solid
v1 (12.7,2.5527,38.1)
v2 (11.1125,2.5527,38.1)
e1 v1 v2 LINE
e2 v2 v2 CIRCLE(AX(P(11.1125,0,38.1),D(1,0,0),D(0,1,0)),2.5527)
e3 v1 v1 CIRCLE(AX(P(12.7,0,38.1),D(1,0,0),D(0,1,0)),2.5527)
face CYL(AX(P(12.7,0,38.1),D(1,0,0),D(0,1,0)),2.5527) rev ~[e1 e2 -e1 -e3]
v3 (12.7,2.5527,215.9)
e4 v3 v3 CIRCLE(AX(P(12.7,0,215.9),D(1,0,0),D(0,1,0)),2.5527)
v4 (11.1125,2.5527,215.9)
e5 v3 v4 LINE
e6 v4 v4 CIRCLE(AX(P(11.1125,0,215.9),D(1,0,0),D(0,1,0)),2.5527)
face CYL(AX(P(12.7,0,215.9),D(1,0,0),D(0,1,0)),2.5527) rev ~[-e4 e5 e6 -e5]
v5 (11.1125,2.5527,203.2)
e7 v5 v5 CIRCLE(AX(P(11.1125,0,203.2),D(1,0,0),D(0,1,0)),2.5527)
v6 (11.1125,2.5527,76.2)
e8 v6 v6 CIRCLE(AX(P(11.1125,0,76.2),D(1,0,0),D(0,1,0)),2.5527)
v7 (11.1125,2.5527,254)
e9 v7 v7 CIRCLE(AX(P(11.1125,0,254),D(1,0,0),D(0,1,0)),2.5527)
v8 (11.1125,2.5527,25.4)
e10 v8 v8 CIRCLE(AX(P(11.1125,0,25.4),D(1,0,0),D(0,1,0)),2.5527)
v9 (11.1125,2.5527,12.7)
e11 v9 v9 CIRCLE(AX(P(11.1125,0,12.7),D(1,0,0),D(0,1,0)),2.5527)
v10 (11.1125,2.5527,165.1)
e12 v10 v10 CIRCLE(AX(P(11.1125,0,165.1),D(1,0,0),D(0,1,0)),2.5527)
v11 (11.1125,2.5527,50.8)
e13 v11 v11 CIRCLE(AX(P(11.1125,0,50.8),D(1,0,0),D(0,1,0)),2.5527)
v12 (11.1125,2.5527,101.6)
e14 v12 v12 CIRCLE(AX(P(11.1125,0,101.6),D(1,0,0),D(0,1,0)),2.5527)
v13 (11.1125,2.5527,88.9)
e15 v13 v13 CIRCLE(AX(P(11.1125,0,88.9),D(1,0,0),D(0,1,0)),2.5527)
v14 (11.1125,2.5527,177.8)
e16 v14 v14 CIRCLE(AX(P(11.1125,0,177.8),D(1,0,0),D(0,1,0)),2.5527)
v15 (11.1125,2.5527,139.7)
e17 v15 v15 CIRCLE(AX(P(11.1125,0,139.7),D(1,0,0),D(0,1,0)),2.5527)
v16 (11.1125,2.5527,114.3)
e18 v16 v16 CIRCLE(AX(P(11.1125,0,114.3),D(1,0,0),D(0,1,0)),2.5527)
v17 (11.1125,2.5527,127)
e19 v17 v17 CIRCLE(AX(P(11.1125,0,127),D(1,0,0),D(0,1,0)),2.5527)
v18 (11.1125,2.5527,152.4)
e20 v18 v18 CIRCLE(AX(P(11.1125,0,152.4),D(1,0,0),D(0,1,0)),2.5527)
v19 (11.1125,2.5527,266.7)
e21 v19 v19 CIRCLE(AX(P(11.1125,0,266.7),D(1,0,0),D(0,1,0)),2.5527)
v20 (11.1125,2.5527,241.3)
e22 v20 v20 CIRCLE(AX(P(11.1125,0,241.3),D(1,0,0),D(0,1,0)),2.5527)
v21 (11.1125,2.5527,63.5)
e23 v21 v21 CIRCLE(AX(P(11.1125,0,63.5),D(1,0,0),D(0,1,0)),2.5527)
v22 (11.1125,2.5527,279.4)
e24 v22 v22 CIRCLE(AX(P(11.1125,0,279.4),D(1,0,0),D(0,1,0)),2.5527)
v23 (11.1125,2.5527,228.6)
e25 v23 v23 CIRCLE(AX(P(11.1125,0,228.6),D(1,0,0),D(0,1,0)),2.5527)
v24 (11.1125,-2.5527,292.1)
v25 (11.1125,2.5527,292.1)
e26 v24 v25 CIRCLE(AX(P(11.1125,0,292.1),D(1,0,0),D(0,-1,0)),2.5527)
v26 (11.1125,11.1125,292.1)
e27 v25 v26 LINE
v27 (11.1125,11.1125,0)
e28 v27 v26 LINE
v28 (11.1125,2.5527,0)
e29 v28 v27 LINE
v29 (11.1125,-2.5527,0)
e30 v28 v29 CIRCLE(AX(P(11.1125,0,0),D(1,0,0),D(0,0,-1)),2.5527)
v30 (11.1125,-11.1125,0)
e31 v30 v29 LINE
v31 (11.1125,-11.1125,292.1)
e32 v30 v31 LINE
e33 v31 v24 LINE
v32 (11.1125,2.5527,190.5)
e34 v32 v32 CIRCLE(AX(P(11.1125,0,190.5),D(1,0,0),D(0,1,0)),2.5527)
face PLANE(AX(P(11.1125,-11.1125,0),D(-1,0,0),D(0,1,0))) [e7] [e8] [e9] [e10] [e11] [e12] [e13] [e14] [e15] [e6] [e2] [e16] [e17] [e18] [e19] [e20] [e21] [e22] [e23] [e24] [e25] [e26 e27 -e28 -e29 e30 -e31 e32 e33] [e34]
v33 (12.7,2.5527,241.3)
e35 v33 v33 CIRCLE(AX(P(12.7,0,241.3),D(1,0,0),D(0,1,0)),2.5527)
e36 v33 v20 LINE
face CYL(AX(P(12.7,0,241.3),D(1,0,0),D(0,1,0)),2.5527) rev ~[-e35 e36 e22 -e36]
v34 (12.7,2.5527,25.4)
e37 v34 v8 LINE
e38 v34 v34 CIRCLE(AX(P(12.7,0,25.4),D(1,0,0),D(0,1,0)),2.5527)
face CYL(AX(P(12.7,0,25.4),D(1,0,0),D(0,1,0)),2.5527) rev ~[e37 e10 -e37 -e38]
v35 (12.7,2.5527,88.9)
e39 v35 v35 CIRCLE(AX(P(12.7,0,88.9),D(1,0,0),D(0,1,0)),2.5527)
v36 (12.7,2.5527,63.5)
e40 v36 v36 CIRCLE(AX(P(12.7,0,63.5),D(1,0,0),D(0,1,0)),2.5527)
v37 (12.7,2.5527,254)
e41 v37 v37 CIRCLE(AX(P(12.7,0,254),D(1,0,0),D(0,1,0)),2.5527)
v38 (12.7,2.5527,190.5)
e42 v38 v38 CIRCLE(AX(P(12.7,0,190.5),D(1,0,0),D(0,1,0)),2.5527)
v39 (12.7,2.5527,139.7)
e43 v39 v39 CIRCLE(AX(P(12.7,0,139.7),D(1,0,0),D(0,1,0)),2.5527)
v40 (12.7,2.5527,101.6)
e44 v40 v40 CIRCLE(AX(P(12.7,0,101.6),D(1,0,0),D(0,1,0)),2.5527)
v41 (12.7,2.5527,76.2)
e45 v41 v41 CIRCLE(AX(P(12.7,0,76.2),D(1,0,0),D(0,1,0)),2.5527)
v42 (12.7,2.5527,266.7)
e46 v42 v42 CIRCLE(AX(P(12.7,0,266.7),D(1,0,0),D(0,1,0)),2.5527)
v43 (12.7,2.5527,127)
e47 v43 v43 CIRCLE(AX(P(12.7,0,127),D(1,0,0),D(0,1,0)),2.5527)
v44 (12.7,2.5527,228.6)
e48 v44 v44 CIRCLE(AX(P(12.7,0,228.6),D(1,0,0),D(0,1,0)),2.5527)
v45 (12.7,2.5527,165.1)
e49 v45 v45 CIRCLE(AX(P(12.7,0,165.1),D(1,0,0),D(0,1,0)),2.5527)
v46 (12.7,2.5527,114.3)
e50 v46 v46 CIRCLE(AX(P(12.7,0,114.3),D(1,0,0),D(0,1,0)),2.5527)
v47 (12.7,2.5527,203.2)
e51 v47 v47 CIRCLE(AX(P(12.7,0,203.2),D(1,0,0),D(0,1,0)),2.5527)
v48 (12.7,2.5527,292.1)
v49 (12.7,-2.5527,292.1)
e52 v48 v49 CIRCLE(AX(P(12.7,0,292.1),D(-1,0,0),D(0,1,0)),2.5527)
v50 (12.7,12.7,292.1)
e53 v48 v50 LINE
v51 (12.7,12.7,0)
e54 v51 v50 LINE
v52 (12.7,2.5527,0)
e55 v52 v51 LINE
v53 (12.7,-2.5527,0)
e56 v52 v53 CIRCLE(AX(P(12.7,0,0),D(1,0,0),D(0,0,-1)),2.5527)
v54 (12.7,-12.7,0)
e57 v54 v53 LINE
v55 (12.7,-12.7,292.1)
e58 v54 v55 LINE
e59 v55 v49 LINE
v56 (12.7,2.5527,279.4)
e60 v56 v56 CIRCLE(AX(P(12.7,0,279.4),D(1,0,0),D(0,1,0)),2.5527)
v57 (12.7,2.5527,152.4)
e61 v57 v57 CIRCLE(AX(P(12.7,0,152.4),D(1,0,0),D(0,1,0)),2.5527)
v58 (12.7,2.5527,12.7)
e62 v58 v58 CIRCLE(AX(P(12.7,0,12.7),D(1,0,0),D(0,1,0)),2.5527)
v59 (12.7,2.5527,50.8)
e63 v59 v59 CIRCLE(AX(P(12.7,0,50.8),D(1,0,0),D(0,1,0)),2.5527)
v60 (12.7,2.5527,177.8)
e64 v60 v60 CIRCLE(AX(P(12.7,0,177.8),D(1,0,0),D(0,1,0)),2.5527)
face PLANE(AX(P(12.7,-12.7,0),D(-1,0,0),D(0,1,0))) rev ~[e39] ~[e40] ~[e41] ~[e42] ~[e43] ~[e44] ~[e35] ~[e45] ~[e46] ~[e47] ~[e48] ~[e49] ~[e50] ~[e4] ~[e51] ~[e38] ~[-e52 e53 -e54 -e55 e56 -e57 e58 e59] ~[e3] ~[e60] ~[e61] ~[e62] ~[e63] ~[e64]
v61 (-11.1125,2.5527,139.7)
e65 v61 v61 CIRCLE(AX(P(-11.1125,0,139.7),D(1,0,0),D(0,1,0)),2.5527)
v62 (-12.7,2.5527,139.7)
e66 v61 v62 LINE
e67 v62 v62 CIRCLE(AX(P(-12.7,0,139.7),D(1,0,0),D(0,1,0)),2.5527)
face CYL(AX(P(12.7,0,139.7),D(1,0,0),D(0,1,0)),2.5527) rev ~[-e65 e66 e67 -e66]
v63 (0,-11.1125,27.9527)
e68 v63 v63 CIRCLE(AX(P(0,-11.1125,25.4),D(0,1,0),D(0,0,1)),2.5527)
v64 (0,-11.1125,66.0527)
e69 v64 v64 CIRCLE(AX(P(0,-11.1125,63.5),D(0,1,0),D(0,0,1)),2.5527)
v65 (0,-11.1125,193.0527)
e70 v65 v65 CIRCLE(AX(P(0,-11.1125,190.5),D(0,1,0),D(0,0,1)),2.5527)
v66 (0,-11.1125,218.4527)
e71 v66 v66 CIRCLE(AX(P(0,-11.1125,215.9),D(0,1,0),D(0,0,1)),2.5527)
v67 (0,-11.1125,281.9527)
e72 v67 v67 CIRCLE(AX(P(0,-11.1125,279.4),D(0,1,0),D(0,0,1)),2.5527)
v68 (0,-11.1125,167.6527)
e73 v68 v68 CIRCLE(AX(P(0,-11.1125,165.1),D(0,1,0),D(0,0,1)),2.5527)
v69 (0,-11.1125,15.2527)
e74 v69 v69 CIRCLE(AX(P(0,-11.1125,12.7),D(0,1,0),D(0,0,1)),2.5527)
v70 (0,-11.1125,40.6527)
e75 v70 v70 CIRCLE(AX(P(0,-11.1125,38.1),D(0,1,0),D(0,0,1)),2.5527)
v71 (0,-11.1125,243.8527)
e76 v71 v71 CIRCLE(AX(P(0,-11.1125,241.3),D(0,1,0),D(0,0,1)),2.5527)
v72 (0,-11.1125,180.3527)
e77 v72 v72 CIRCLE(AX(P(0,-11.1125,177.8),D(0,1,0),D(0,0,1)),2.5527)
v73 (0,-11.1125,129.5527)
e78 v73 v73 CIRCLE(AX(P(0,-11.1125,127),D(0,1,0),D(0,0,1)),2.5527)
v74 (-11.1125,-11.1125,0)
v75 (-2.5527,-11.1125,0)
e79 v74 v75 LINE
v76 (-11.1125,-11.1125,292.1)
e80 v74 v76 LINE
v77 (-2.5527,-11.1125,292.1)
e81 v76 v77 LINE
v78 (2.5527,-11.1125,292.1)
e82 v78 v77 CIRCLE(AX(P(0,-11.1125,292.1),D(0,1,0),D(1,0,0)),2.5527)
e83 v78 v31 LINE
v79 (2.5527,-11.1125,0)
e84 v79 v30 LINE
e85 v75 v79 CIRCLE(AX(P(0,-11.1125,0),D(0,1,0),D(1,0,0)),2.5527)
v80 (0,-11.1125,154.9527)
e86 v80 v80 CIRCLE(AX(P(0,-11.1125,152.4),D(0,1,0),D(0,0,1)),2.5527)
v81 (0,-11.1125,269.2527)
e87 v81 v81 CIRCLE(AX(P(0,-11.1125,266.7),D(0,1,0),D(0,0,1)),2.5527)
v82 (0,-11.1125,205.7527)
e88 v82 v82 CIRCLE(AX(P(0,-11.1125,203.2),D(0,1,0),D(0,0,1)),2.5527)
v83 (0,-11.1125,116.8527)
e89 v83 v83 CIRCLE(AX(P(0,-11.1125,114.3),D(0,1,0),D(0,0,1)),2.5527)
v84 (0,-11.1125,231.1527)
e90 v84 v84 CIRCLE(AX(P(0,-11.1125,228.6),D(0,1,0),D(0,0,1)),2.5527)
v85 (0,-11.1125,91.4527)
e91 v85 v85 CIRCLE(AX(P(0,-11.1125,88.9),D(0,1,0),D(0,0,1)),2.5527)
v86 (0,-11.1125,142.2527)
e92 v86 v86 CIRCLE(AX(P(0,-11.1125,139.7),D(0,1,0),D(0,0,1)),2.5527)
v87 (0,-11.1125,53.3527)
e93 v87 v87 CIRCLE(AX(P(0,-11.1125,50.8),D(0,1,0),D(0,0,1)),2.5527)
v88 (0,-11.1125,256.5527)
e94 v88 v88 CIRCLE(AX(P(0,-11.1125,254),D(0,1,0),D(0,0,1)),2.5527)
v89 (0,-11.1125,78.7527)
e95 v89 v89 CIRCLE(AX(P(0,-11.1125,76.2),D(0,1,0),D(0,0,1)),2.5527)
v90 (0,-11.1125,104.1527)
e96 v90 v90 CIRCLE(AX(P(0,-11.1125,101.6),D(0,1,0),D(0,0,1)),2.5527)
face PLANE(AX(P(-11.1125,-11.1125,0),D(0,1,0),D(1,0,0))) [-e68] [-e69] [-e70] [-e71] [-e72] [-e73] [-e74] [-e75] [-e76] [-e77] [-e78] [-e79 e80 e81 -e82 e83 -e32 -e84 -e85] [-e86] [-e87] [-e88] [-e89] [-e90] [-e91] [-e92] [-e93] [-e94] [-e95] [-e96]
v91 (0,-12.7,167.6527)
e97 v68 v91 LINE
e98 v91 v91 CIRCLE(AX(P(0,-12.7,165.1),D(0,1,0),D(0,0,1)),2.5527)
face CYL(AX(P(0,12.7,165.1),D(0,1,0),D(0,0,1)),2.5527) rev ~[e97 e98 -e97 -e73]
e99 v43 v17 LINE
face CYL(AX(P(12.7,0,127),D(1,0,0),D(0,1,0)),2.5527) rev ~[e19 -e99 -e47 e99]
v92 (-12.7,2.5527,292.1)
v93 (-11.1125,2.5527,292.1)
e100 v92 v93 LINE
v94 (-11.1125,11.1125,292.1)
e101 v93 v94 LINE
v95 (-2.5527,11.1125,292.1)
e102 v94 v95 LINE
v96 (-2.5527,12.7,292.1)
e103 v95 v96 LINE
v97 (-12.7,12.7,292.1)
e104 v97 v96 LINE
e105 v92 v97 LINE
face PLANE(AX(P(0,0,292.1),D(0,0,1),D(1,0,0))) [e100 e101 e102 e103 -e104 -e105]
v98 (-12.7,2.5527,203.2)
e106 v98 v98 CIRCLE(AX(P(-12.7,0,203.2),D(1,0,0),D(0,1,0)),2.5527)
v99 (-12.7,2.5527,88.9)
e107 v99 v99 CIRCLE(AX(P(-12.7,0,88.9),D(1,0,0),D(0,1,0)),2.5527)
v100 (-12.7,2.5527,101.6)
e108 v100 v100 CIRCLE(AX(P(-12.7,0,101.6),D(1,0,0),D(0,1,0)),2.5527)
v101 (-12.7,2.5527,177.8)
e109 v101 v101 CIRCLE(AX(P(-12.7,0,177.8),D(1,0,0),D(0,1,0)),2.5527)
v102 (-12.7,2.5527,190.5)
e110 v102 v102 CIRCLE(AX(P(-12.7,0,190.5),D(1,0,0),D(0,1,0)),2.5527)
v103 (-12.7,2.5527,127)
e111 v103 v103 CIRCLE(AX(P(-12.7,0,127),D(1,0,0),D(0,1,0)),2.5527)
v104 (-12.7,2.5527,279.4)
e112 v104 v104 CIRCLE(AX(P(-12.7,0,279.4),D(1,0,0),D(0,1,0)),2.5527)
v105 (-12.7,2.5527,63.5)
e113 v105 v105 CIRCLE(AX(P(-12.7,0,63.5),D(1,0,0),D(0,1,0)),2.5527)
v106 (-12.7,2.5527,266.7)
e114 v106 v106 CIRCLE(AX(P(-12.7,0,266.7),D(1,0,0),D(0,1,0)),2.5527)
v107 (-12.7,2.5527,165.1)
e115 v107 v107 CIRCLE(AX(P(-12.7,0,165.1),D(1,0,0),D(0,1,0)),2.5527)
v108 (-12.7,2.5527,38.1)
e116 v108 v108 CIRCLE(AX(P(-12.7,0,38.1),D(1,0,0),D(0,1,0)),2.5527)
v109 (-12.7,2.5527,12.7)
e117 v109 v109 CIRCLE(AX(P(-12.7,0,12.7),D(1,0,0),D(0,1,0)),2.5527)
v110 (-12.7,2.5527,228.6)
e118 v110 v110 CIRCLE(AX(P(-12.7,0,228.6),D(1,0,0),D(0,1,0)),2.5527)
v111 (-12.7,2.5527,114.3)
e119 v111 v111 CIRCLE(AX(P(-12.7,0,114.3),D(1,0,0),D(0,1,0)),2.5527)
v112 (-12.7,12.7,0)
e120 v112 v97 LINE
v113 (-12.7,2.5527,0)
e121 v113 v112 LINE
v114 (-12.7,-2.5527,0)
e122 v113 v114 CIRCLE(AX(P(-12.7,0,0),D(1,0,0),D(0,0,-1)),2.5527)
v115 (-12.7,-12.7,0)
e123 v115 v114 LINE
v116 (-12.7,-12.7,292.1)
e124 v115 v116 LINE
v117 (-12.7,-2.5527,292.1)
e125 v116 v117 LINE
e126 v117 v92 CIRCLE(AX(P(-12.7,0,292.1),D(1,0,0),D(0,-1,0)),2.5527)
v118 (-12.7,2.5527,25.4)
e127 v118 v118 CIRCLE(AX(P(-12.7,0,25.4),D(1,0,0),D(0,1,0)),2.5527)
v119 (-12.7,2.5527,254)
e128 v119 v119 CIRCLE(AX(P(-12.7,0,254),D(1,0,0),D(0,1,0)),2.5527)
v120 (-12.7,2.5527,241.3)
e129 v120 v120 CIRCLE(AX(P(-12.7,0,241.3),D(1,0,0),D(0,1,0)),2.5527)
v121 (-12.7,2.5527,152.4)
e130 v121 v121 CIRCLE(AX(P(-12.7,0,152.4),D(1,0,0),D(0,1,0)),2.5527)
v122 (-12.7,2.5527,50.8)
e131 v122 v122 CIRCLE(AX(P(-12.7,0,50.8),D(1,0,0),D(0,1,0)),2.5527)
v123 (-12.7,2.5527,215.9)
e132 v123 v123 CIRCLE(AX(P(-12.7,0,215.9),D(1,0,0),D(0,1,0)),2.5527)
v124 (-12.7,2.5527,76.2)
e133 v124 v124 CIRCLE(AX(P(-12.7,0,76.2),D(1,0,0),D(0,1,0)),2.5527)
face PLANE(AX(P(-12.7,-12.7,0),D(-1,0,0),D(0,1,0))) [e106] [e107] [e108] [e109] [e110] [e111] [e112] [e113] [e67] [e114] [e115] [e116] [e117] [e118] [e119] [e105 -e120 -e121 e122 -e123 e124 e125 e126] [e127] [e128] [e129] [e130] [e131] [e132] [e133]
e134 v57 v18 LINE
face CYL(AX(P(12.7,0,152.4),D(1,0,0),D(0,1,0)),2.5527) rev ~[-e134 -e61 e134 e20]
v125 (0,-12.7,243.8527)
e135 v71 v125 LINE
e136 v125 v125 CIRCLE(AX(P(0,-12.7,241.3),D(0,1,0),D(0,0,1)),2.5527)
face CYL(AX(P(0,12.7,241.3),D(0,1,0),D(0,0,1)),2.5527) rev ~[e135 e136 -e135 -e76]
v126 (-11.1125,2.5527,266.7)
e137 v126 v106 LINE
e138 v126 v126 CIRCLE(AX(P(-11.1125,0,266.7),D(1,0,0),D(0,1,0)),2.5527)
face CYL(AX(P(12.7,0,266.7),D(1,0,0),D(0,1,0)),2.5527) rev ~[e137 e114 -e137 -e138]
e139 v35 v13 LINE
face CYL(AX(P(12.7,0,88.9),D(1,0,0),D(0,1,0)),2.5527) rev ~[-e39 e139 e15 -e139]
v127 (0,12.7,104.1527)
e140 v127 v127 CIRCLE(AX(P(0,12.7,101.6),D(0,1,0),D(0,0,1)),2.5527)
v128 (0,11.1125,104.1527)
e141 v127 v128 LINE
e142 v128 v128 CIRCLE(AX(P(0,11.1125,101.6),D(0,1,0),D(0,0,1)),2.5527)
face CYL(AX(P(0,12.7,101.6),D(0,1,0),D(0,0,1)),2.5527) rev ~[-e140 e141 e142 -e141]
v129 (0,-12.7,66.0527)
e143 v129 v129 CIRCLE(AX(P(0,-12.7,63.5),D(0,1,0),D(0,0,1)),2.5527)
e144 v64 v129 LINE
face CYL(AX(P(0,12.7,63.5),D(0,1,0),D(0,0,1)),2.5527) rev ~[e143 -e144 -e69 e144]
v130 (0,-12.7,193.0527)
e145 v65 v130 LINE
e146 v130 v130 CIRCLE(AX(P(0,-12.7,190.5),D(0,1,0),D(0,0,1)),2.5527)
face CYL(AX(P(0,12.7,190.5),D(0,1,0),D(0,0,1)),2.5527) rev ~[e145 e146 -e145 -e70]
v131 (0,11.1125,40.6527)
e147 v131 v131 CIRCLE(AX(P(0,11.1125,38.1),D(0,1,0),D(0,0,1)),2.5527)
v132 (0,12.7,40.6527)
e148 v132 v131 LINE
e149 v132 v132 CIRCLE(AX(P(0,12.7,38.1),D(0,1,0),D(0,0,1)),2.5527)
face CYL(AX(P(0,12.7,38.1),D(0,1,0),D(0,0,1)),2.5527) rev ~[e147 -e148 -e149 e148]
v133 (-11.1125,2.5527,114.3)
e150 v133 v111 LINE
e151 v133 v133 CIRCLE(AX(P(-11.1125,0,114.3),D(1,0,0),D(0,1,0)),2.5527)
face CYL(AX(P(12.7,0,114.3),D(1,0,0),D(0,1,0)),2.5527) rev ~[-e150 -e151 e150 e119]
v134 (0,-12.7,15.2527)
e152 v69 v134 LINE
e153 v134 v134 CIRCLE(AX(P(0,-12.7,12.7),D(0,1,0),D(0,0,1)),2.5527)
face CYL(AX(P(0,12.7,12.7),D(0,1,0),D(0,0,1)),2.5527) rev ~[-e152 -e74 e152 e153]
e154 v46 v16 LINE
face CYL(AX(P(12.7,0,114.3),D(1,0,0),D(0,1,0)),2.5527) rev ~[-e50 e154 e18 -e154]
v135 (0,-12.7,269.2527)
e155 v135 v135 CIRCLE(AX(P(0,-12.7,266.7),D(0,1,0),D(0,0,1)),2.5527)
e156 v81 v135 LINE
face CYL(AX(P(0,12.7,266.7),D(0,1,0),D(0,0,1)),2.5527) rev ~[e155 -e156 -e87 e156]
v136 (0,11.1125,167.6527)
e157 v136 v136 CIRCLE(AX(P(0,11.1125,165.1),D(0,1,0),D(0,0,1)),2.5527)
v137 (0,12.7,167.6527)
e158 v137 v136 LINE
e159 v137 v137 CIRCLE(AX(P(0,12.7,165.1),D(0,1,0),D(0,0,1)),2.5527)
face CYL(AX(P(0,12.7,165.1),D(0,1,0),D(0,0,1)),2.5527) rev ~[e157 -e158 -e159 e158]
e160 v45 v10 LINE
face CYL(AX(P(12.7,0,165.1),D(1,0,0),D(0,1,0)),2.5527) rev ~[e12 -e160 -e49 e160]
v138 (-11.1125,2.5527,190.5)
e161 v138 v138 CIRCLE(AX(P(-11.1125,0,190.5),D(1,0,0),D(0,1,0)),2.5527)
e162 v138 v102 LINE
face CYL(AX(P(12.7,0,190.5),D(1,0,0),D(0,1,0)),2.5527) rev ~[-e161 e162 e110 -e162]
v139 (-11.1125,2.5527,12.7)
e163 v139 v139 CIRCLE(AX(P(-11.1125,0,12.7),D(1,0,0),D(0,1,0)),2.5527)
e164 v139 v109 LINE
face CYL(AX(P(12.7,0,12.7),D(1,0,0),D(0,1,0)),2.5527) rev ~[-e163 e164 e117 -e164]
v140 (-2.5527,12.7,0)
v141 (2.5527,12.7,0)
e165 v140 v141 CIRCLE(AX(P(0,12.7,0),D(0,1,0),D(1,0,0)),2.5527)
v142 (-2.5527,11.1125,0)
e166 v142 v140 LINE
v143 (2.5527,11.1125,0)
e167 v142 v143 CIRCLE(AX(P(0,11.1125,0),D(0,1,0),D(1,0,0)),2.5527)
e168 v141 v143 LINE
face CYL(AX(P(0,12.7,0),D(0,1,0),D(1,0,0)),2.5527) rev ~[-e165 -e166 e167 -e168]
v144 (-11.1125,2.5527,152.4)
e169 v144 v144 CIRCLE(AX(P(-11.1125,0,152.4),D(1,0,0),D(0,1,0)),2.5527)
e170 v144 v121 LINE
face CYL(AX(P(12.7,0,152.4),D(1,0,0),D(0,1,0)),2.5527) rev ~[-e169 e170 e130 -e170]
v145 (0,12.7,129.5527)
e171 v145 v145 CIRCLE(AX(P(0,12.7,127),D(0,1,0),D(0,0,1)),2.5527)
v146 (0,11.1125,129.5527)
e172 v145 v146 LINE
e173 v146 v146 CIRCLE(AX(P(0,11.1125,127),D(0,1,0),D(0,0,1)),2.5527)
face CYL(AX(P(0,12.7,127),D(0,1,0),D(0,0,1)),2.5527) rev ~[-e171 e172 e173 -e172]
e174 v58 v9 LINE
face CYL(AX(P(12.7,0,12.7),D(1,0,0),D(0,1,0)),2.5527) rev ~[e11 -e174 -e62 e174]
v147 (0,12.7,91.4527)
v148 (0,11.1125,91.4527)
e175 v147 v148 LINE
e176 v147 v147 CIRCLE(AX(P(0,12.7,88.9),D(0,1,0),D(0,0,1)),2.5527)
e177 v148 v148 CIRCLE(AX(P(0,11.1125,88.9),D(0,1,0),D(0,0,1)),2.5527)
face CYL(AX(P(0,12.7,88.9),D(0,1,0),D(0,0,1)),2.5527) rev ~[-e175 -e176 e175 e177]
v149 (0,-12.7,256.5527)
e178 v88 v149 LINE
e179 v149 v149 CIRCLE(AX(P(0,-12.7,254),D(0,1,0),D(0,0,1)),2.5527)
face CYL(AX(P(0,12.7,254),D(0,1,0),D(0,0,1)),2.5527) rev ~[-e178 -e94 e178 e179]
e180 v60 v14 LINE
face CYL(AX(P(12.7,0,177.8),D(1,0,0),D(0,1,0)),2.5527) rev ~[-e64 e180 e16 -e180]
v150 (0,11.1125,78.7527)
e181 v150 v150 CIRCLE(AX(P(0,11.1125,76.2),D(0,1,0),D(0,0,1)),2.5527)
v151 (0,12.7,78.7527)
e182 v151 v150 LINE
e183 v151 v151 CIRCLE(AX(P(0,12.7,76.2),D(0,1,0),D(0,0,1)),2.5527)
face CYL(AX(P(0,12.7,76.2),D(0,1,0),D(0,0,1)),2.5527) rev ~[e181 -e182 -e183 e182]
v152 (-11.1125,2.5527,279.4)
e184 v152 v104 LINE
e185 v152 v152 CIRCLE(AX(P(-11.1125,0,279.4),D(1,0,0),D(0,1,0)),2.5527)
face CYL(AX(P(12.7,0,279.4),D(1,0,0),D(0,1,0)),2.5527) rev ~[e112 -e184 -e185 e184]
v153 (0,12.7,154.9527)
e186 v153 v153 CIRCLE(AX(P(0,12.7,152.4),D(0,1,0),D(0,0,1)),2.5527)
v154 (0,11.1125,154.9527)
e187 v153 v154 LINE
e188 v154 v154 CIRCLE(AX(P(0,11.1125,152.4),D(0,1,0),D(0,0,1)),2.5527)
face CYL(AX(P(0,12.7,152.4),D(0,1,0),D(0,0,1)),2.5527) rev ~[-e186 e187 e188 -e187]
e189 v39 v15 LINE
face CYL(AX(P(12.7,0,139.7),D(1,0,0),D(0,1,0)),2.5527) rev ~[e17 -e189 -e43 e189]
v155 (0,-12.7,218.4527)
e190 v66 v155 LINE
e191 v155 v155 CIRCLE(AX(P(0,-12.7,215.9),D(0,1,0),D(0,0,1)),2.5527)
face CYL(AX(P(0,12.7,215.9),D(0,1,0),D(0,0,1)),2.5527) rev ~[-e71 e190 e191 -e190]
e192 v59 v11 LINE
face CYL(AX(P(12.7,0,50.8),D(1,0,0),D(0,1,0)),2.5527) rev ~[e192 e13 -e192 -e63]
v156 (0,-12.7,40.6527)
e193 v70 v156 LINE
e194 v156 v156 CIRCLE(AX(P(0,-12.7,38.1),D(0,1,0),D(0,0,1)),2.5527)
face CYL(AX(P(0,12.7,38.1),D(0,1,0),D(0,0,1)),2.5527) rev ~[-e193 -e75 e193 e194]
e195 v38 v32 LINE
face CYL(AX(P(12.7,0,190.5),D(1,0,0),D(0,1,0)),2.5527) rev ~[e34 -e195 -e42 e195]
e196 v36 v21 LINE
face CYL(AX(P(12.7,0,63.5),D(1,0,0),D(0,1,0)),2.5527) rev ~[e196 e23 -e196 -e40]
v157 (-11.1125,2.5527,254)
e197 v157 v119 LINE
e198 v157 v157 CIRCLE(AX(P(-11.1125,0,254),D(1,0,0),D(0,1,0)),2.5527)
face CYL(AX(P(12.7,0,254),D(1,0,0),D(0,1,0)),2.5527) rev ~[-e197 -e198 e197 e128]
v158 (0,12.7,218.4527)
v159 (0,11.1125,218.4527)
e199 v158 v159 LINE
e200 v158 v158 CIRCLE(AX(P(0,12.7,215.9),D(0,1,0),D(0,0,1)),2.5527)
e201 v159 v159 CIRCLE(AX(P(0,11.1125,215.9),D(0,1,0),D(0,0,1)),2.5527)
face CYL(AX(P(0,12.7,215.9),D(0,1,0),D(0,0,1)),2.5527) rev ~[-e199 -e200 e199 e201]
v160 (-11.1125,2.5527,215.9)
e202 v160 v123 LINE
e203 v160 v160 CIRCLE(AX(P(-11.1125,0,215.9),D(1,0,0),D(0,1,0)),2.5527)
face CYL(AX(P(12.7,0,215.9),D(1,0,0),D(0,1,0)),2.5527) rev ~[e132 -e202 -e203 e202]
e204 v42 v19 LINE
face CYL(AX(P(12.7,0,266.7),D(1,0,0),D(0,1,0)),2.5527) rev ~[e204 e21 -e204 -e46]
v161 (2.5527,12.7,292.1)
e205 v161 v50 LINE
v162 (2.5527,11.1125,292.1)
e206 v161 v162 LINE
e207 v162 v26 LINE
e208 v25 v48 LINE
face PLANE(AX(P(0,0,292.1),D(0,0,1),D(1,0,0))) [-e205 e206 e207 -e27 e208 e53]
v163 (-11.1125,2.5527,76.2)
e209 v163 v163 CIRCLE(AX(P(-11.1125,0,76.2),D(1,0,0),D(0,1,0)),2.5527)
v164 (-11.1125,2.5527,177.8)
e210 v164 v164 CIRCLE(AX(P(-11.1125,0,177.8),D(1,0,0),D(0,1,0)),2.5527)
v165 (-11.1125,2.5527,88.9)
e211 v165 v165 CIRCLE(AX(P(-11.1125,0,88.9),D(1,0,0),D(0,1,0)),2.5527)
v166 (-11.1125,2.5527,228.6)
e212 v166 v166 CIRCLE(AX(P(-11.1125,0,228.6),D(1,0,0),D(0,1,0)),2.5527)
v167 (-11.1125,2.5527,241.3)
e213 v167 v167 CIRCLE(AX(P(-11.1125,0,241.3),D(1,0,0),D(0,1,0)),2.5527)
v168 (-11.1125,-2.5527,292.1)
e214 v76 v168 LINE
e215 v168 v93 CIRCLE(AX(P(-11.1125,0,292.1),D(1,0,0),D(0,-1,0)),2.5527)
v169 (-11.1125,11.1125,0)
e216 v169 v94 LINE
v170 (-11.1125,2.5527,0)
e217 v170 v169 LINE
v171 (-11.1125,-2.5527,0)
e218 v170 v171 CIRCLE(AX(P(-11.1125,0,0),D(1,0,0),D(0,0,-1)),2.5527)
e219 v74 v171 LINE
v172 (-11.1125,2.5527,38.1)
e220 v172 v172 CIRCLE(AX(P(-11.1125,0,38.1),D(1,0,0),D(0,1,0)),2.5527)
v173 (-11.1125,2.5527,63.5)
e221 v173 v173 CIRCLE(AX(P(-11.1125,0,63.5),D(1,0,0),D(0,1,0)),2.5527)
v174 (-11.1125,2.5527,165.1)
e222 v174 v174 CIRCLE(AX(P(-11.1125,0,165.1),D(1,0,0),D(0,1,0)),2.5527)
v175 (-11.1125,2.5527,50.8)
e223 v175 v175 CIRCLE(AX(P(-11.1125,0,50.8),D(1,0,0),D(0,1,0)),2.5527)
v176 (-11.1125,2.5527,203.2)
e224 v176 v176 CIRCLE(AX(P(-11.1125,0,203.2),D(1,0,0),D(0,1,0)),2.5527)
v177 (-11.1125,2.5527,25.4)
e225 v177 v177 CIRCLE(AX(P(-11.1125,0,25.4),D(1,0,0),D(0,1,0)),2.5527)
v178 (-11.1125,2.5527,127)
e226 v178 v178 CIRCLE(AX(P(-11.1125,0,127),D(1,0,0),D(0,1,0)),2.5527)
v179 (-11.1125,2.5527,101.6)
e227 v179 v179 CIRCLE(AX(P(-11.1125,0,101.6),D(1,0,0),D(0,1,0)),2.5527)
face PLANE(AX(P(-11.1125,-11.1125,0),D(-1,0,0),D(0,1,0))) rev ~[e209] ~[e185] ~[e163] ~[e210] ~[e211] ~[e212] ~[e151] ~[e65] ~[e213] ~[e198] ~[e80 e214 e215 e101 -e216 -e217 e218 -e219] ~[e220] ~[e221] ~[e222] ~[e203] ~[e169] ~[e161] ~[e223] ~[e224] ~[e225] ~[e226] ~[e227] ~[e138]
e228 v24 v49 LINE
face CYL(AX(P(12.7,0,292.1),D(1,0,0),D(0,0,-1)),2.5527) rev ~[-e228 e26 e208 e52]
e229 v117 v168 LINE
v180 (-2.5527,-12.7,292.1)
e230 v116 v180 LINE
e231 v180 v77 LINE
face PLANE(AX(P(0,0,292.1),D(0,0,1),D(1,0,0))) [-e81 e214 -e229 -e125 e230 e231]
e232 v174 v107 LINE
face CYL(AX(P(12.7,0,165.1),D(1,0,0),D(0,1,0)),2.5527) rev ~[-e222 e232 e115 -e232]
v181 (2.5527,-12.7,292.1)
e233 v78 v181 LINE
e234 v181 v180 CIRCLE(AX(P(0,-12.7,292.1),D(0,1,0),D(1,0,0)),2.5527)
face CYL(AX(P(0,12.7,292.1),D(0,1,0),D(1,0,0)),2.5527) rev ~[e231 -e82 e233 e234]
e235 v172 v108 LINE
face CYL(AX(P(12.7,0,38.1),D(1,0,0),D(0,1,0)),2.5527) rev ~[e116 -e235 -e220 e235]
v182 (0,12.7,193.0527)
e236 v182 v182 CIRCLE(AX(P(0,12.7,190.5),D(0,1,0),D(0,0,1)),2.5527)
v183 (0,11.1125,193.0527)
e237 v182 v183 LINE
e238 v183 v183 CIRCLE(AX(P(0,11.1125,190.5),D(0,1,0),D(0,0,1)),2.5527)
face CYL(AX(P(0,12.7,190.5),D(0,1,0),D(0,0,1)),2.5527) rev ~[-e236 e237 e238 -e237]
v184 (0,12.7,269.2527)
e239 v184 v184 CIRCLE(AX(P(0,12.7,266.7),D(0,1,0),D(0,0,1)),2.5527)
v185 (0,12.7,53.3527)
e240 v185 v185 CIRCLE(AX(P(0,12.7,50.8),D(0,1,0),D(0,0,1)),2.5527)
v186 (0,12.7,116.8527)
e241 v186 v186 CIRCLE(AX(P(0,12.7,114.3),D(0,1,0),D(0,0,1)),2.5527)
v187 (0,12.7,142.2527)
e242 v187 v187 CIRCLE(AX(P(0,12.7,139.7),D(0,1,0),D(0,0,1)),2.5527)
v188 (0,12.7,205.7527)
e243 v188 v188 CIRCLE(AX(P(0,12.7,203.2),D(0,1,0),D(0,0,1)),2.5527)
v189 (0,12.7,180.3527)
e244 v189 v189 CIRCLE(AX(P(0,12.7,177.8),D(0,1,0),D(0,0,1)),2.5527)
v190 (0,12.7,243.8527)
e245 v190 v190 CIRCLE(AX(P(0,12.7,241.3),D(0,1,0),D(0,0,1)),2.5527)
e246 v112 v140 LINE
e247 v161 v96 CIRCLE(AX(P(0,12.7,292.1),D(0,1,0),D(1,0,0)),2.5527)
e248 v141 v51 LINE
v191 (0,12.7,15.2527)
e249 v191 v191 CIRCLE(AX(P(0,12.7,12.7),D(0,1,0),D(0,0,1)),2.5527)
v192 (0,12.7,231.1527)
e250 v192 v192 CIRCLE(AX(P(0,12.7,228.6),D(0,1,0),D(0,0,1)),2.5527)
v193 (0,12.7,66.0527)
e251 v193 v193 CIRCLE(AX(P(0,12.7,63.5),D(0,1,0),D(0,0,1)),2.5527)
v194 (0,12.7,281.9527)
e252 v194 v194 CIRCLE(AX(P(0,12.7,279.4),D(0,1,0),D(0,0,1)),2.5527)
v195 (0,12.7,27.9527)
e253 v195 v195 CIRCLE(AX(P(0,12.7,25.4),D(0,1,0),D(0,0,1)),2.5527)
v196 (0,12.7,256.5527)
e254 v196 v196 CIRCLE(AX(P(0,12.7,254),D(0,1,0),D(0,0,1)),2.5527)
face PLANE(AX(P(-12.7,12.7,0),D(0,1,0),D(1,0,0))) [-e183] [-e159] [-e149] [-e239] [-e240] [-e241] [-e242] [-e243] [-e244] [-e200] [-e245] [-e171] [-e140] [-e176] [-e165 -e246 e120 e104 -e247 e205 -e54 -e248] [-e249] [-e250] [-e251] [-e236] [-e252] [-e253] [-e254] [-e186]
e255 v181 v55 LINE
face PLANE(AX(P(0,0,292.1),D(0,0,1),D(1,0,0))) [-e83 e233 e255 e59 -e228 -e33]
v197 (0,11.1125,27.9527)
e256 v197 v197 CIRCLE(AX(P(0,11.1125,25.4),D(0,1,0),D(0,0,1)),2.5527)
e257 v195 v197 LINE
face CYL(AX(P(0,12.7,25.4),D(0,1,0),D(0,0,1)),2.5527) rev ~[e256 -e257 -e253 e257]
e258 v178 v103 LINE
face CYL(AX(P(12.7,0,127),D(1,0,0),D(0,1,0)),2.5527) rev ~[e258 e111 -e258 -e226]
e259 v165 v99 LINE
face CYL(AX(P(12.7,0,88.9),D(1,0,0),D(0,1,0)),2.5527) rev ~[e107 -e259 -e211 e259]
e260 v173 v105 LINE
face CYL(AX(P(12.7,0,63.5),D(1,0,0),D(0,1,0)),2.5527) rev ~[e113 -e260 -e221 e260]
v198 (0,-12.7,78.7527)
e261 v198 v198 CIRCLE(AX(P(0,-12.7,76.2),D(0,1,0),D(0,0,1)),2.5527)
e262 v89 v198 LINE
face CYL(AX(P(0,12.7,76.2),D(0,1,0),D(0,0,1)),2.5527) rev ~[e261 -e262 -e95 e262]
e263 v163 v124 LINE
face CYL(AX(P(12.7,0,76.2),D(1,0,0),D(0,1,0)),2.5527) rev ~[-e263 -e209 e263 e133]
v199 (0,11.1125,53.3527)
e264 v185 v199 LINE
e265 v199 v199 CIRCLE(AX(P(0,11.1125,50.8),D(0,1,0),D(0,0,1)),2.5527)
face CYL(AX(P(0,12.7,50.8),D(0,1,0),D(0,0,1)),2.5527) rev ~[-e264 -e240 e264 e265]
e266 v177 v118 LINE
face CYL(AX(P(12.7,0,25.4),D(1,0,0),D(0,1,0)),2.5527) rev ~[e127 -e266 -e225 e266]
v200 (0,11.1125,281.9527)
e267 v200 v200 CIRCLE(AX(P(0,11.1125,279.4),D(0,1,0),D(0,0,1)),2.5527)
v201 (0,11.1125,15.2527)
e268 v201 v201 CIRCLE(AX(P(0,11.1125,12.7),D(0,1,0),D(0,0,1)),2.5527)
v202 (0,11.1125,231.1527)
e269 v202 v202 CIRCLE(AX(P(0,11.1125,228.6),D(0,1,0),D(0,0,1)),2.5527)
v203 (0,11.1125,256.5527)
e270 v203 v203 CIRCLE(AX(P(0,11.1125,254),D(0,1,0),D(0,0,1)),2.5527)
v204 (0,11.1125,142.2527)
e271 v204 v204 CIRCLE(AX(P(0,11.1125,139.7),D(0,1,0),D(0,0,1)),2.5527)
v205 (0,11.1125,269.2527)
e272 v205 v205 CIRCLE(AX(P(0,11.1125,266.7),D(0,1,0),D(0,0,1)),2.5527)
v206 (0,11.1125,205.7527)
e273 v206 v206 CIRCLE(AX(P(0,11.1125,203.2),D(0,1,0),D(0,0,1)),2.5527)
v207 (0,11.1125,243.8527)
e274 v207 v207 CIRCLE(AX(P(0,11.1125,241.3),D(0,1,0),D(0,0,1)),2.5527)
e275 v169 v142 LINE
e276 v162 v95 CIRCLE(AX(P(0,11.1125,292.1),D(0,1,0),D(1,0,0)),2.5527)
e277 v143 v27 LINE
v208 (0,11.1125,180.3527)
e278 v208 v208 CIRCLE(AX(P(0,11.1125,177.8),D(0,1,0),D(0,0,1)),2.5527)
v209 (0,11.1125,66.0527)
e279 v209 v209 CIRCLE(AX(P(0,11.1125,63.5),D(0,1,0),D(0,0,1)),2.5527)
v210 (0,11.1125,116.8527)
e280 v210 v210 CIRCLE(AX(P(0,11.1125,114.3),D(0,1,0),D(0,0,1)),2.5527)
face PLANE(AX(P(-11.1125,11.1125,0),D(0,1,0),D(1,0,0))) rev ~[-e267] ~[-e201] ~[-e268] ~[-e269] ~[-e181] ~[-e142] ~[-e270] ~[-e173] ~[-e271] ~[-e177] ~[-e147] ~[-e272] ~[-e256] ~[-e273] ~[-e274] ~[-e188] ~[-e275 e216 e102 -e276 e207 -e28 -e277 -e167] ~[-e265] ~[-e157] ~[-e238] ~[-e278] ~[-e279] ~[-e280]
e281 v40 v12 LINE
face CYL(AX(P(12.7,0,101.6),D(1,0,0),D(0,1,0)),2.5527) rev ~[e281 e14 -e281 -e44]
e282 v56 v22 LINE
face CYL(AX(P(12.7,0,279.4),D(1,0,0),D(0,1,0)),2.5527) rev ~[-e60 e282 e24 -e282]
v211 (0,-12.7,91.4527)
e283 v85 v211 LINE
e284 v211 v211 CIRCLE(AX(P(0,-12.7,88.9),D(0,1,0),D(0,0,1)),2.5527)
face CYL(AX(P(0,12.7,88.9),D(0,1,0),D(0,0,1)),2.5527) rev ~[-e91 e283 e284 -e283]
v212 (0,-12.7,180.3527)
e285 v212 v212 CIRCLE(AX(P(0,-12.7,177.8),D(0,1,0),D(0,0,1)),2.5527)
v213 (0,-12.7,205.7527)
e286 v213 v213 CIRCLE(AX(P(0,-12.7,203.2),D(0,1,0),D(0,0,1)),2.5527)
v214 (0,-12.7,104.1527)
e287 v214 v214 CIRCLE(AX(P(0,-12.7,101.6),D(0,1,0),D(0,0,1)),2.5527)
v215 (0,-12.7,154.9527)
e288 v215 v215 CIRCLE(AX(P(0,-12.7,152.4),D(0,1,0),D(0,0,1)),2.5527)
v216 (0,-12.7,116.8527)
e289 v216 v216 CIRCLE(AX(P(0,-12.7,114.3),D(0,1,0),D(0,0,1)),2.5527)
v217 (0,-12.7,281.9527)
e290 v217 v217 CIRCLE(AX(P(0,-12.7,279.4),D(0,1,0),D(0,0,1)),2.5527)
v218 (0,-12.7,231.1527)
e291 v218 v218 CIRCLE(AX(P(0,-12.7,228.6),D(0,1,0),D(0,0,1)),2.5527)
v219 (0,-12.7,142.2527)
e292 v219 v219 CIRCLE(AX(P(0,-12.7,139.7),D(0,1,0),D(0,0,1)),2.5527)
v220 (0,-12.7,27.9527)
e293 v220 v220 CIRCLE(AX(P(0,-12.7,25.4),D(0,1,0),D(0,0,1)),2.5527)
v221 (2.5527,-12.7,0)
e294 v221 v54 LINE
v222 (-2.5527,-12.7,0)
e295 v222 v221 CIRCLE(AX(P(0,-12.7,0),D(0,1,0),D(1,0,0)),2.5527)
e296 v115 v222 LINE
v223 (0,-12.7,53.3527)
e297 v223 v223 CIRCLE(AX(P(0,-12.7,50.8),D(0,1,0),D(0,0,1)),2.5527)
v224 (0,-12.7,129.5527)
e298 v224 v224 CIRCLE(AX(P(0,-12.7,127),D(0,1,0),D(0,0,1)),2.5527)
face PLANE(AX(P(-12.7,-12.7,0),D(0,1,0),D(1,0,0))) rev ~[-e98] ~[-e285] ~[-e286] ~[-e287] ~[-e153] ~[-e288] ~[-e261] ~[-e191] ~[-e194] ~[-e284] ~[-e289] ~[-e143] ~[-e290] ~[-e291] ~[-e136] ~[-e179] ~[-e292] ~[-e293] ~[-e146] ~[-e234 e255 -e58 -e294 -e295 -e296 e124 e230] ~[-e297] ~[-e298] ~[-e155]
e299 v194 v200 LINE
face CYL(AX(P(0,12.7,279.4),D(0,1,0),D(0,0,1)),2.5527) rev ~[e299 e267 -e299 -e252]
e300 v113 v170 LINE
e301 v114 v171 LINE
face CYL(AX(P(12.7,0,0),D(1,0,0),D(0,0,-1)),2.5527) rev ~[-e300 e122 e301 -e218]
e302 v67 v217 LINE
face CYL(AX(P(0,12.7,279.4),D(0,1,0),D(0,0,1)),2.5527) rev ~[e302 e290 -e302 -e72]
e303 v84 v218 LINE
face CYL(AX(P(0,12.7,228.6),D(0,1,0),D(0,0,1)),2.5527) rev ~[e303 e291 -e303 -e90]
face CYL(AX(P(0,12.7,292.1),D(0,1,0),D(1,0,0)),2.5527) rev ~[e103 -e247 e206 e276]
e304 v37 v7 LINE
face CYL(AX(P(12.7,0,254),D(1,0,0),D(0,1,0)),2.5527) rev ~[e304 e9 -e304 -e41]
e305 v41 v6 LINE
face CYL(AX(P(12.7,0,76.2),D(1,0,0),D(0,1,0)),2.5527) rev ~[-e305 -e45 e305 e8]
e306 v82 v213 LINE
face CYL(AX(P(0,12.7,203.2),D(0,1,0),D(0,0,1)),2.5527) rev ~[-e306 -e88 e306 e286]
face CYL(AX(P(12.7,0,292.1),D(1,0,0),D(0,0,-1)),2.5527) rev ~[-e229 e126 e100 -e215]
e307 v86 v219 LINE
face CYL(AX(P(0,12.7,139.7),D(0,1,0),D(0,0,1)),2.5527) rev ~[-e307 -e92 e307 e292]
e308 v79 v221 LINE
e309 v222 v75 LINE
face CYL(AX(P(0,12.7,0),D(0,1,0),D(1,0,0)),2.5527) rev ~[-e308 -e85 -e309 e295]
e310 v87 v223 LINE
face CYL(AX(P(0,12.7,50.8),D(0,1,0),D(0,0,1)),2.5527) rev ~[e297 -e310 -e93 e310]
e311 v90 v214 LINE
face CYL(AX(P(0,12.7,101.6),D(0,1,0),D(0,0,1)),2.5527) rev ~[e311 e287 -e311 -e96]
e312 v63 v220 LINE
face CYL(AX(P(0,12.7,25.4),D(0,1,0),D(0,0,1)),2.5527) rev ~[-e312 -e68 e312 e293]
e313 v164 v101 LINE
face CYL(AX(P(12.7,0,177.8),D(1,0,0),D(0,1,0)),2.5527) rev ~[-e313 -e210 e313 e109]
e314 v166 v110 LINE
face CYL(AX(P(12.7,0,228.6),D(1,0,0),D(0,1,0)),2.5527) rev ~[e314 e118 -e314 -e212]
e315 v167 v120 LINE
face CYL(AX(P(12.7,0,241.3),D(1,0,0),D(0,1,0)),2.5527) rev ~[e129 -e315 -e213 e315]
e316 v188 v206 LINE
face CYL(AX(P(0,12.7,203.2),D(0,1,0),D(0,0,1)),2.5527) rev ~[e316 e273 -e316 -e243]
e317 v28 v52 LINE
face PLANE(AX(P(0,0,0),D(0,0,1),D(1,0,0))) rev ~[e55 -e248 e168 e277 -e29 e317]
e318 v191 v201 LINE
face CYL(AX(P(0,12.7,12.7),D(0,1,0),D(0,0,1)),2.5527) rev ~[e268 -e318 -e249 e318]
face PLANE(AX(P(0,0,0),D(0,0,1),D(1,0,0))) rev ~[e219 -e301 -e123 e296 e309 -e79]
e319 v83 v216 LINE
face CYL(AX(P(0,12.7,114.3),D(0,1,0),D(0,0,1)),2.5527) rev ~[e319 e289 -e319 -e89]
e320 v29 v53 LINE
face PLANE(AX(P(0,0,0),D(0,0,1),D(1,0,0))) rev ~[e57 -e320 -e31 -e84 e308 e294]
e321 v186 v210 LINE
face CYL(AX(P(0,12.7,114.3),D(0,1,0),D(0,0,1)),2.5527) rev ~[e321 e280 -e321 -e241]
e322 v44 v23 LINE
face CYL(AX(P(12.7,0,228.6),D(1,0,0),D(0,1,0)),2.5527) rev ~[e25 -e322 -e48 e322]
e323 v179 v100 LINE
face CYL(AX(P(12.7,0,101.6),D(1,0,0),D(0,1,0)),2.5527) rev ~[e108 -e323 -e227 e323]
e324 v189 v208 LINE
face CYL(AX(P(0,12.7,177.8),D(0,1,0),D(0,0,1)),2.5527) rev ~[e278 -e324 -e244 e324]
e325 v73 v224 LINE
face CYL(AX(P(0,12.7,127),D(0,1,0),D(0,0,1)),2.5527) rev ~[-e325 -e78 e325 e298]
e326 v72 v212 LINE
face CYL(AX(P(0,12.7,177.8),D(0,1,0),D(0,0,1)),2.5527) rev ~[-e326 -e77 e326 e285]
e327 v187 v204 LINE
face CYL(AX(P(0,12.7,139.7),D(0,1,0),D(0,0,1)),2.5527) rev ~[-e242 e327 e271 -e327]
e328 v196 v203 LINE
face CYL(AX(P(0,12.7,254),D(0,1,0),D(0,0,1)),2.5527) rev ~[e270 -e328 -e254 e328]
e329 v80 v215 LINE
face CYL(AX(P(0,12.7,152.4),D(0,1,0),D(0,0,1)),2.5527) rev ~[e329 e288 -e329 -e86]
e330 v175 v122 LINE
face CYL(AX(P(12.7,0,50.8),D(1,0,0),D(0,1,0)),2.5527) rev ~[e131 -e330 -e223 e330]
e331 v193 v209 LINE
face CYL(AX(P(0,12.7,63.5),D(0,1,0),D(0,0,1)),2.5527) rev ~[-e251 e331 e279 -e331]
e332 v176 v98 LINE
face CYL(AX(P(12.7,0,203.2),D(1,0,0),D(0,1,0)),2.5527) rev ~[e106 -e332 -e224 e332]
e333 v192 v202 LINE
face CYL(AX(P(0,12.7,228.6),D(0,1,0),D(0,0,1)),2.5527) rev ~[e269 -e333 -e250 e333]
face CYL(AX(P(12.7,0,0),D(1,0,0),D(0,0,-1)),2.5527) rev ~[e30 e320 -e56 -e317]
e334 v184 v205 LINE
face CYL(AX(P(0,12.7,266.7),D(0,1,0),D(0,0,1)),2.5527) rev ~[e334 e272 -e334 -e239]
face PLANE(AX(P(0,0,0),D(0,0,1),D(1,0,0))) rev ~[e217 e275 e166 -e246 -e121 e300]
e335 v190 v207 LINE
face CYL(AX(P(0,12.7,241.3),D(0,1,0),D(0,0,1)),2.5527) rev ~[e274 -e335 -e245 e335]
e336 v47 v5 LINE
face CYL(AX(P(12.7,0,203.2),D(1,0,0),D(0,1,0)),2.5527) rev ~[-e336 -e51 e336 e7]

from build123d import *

# Parameters (mm, degrees)
SKETCH1_W           = 25.4
SKETCH1_H           = 25.4
SKETCH1_W_2         = 22.225
SKETCH1_H_2         = 22.225
BOSS_EXTRUDE1_DEPTH = 292.1
SKETCH2_R           = 2.5527
CUT_EXTRUDE1_DEPTH  = 294.477188211
SKETCH3_R           = 2.5527
CUT_EXTRUDE2_DEPTH  = 294.477188211


with BuildPart() as part:
    # Sketch1 → Boss-Extrude1 (new body)
    with BuildSketch(Plane.XY):
        Rectangle(SKETCH1_W, SKETCH1_H)
        Rectangle(SKETCH1_W_2, SKETCH1_H_2, mode=Mode.SUBTRACT)
    extrude(amount=BOSS_EXTRUDE1_DEPTH)

    # Sketch2 → Cut-Extrude1 (cut, through all)
    with BuildSketch(Plane(origin=(0, 12.7, 0), x_dir=(1, 0, 0), z_dir=(0, 1, 0))):
        Circle(SKETCH2_R)
        with Locations(Location((0, -12.7, 0), (0, 0, 270))):
            Circle(SKETCH2_R)
        with Locations(Location((0, -25.4, 0), (0, 0, 270))):
            Circle(SKETCH2_R)
        with Locations(Location((0, -38.1, 0), (0, 0, 270))):
            Circle(SKETCH2_R)
        with Locations(Location((0, -50.8, 0), (0, 0, 270))):
            Circle(SKETCH2_R)
        with Locations(Location((0, -63.5, 0), (0, 0, 270))):
            Circle(SKETCH2_R)
        with Locations(Location((0, -76.2, 0), (0, 0, 270))):
            Circle(SKETCH2_R)
        with Locations(Location((0, -88.9, 0), (0, 0, 270))):
            Circle(SKETCH2_R)
        with Locations(Location((0, -101.6, 0), (0, 0, 270))):
            Circle(SKETCH2_R)
        with Locations(Location((0, -114.3, 0), (0, 0, 270))):
            Circle(SKETCH2_R)
        with Locations(Location((0, -127, 0), (0, 0, 270))):
            Circle(SKETCH2_R)
        with Locations(Location((0, -139.7, 0), (0, 0, 270))):
            Circle(SKETCH2_R)
        with Locations(Location((0, -152.4, 0), (0, 0, 270))):
            Circle(SKETCH2_R)
        with Locations(Location((0, -165.1, 0), (0, 0, 270))):
            Circle(SKETCH2_R)
        with Locations(Location((0, -177.8, 0), (0, 0, 270))):
            Circle(SKETCH2_R)
        with Locations(Location((0, -190.5, 0), (0, 0, 270))):
            Circle(SKETCH2_R)
        with Locations(Location((0, -203.2, 0), (0, 0, 270))):
            Circle(SKETCH2_R)
        with Locations(Location((0, -215.9, 0), (0, 0, 270))):
            Circle(SKETCH2_R)
        with Locations(Location((0, -228.6, 0), (0, 0, 270))):
            Circle(SKETCH2_R)
        with Locations(Location((0, -241.3, 0), (0, 0, 270))):
            Circle(SKETCH2_R)
        with Locations(Location((0, -254, 0), (0, 0, 270))):
            Circle(SKETCH2_R)
        with Locations(Location((0, -266.7, 0), (0, 0, 270))):
            Circle(SKETCH2_R)
        with Locations(Location((0, -279.4, 0), (0, 0, 270))):
            Circle(SKETCH2_R)
        with Locations((0, -292.1)):
            Circle(SKETCH2_R)
        with Locations((0, -304.8)):
            Circle(SKETCH2_R)
        with Locations((0, -317.5)):
            Circle(SKETCH2_R)
    extrude(amount=-CUT_EXTRUDE1_DEPTH, mode=Mode.SUBTRACT)

    # Sketch3 → Cut-Extrude2 (cut, through all)
    with BuildSketch(Plane(origin=(12.7, 0, 0), x_dir=(0, 0, -1), z_dir=(1, 0, 0))):
        Circle(SKETCH3_R)
        with Locations(Location((-12.7, 0, 0), (0, 0, 90))):
            Circle(SKETCH3_R)
        with Locations(Location((-25.4, 0, 0), (0, 0, 90))):
            Circle(SKETCH3_R)
        with Locations(Location((-38.1, 0, 0), (0, 0, 90))):
            Circle(SKETCH3_R)
        with Locations(Location((-50.8, 0, 0), (0, 0, 90))):
            Circle(SKETCH3_R)
        with Locations(Location((-63.5, 0, 0), (0, 0, 90))):
            Circle(SKETCH3_R)
        with Locations(Location((-76.2, 0, 0), (0, 0, 90))):
            Circle(SKETCH3_R)
        with Locations(Location((-88.9, 0, 0), (0, 0, 90))):
            Circle(SKETCH3_R)
        with Locations(Location((-101.6, 0, 0), (0, 0, 90))):
            Circle(SKETCH3_R)
        with Locations(Location((-114.3, 0, 0), (0, 0, 90))):
            Circle(SKETCH3_R)
        with Locations(Location((-127, 0, 0), (0, 0, 90))):
            Circle(SKETCH3_R)
        with Locations(Location((-139.7, 0, 0), (0, 0, 90))):
            Circle(SKETCH3_R)
        with Locations(Location((-152.4, 0, 0), (0, 0, 90))):
            Circle(SKETCH3_R)
        with Locations(Location((-165.1, 0, 0), (0, 0, 90))):
            Circle(SKETCH3_R)
        with Locations(Location((-177.8, 0, 0), (0, 0, 90))):
            Circle(SKETCH3_R)
        with Locations(Location((-190.5, 0, 0), (0, 0, 90))):
            Circle(SKETCH3_R)
        with Locations(Location((-203.2, 0, 0), (0, 0, 90))):
            Circle(SKETCH3_R)
        with Locations(Location((-215.9, 0, 0), (0, 0, 90))):
            Circle(SKETCH3_R)
        with Locations(Location((-228.6, 0, 0), (0, 0, 90))):
            Circle(SKETCH3_R)
        with Locations(Location((-241.3, 0, 0), (0, 0, 90))):
            Circle(SKETCH3_R)
        with Locations(Location((-254, 0, 0), (0, 0, 90))):
            Circle(SKETCH3_R)
        with Locations(Location((-266.7, 0, 0), (0, 0, 90))):
            Circle(SKETCH3_R)
        with Locations(Location((-279.4, 0, 0), (0, 0, 90))):
            Circle(SKETCH3_R)
        with Locations((-292.1, 0)):
            Circle(SKETCH3_R)
        with Locations((-304.8, 0)):
            Circle(SKETCH3_R)
        with Locations((-317.5, 0)):
            Circle(SKETCH3_R)
    extrude(amount=-CUT_EXTRUDE2_DEPTH, mode=Mode.SUBTRACT)


solid = part.part
